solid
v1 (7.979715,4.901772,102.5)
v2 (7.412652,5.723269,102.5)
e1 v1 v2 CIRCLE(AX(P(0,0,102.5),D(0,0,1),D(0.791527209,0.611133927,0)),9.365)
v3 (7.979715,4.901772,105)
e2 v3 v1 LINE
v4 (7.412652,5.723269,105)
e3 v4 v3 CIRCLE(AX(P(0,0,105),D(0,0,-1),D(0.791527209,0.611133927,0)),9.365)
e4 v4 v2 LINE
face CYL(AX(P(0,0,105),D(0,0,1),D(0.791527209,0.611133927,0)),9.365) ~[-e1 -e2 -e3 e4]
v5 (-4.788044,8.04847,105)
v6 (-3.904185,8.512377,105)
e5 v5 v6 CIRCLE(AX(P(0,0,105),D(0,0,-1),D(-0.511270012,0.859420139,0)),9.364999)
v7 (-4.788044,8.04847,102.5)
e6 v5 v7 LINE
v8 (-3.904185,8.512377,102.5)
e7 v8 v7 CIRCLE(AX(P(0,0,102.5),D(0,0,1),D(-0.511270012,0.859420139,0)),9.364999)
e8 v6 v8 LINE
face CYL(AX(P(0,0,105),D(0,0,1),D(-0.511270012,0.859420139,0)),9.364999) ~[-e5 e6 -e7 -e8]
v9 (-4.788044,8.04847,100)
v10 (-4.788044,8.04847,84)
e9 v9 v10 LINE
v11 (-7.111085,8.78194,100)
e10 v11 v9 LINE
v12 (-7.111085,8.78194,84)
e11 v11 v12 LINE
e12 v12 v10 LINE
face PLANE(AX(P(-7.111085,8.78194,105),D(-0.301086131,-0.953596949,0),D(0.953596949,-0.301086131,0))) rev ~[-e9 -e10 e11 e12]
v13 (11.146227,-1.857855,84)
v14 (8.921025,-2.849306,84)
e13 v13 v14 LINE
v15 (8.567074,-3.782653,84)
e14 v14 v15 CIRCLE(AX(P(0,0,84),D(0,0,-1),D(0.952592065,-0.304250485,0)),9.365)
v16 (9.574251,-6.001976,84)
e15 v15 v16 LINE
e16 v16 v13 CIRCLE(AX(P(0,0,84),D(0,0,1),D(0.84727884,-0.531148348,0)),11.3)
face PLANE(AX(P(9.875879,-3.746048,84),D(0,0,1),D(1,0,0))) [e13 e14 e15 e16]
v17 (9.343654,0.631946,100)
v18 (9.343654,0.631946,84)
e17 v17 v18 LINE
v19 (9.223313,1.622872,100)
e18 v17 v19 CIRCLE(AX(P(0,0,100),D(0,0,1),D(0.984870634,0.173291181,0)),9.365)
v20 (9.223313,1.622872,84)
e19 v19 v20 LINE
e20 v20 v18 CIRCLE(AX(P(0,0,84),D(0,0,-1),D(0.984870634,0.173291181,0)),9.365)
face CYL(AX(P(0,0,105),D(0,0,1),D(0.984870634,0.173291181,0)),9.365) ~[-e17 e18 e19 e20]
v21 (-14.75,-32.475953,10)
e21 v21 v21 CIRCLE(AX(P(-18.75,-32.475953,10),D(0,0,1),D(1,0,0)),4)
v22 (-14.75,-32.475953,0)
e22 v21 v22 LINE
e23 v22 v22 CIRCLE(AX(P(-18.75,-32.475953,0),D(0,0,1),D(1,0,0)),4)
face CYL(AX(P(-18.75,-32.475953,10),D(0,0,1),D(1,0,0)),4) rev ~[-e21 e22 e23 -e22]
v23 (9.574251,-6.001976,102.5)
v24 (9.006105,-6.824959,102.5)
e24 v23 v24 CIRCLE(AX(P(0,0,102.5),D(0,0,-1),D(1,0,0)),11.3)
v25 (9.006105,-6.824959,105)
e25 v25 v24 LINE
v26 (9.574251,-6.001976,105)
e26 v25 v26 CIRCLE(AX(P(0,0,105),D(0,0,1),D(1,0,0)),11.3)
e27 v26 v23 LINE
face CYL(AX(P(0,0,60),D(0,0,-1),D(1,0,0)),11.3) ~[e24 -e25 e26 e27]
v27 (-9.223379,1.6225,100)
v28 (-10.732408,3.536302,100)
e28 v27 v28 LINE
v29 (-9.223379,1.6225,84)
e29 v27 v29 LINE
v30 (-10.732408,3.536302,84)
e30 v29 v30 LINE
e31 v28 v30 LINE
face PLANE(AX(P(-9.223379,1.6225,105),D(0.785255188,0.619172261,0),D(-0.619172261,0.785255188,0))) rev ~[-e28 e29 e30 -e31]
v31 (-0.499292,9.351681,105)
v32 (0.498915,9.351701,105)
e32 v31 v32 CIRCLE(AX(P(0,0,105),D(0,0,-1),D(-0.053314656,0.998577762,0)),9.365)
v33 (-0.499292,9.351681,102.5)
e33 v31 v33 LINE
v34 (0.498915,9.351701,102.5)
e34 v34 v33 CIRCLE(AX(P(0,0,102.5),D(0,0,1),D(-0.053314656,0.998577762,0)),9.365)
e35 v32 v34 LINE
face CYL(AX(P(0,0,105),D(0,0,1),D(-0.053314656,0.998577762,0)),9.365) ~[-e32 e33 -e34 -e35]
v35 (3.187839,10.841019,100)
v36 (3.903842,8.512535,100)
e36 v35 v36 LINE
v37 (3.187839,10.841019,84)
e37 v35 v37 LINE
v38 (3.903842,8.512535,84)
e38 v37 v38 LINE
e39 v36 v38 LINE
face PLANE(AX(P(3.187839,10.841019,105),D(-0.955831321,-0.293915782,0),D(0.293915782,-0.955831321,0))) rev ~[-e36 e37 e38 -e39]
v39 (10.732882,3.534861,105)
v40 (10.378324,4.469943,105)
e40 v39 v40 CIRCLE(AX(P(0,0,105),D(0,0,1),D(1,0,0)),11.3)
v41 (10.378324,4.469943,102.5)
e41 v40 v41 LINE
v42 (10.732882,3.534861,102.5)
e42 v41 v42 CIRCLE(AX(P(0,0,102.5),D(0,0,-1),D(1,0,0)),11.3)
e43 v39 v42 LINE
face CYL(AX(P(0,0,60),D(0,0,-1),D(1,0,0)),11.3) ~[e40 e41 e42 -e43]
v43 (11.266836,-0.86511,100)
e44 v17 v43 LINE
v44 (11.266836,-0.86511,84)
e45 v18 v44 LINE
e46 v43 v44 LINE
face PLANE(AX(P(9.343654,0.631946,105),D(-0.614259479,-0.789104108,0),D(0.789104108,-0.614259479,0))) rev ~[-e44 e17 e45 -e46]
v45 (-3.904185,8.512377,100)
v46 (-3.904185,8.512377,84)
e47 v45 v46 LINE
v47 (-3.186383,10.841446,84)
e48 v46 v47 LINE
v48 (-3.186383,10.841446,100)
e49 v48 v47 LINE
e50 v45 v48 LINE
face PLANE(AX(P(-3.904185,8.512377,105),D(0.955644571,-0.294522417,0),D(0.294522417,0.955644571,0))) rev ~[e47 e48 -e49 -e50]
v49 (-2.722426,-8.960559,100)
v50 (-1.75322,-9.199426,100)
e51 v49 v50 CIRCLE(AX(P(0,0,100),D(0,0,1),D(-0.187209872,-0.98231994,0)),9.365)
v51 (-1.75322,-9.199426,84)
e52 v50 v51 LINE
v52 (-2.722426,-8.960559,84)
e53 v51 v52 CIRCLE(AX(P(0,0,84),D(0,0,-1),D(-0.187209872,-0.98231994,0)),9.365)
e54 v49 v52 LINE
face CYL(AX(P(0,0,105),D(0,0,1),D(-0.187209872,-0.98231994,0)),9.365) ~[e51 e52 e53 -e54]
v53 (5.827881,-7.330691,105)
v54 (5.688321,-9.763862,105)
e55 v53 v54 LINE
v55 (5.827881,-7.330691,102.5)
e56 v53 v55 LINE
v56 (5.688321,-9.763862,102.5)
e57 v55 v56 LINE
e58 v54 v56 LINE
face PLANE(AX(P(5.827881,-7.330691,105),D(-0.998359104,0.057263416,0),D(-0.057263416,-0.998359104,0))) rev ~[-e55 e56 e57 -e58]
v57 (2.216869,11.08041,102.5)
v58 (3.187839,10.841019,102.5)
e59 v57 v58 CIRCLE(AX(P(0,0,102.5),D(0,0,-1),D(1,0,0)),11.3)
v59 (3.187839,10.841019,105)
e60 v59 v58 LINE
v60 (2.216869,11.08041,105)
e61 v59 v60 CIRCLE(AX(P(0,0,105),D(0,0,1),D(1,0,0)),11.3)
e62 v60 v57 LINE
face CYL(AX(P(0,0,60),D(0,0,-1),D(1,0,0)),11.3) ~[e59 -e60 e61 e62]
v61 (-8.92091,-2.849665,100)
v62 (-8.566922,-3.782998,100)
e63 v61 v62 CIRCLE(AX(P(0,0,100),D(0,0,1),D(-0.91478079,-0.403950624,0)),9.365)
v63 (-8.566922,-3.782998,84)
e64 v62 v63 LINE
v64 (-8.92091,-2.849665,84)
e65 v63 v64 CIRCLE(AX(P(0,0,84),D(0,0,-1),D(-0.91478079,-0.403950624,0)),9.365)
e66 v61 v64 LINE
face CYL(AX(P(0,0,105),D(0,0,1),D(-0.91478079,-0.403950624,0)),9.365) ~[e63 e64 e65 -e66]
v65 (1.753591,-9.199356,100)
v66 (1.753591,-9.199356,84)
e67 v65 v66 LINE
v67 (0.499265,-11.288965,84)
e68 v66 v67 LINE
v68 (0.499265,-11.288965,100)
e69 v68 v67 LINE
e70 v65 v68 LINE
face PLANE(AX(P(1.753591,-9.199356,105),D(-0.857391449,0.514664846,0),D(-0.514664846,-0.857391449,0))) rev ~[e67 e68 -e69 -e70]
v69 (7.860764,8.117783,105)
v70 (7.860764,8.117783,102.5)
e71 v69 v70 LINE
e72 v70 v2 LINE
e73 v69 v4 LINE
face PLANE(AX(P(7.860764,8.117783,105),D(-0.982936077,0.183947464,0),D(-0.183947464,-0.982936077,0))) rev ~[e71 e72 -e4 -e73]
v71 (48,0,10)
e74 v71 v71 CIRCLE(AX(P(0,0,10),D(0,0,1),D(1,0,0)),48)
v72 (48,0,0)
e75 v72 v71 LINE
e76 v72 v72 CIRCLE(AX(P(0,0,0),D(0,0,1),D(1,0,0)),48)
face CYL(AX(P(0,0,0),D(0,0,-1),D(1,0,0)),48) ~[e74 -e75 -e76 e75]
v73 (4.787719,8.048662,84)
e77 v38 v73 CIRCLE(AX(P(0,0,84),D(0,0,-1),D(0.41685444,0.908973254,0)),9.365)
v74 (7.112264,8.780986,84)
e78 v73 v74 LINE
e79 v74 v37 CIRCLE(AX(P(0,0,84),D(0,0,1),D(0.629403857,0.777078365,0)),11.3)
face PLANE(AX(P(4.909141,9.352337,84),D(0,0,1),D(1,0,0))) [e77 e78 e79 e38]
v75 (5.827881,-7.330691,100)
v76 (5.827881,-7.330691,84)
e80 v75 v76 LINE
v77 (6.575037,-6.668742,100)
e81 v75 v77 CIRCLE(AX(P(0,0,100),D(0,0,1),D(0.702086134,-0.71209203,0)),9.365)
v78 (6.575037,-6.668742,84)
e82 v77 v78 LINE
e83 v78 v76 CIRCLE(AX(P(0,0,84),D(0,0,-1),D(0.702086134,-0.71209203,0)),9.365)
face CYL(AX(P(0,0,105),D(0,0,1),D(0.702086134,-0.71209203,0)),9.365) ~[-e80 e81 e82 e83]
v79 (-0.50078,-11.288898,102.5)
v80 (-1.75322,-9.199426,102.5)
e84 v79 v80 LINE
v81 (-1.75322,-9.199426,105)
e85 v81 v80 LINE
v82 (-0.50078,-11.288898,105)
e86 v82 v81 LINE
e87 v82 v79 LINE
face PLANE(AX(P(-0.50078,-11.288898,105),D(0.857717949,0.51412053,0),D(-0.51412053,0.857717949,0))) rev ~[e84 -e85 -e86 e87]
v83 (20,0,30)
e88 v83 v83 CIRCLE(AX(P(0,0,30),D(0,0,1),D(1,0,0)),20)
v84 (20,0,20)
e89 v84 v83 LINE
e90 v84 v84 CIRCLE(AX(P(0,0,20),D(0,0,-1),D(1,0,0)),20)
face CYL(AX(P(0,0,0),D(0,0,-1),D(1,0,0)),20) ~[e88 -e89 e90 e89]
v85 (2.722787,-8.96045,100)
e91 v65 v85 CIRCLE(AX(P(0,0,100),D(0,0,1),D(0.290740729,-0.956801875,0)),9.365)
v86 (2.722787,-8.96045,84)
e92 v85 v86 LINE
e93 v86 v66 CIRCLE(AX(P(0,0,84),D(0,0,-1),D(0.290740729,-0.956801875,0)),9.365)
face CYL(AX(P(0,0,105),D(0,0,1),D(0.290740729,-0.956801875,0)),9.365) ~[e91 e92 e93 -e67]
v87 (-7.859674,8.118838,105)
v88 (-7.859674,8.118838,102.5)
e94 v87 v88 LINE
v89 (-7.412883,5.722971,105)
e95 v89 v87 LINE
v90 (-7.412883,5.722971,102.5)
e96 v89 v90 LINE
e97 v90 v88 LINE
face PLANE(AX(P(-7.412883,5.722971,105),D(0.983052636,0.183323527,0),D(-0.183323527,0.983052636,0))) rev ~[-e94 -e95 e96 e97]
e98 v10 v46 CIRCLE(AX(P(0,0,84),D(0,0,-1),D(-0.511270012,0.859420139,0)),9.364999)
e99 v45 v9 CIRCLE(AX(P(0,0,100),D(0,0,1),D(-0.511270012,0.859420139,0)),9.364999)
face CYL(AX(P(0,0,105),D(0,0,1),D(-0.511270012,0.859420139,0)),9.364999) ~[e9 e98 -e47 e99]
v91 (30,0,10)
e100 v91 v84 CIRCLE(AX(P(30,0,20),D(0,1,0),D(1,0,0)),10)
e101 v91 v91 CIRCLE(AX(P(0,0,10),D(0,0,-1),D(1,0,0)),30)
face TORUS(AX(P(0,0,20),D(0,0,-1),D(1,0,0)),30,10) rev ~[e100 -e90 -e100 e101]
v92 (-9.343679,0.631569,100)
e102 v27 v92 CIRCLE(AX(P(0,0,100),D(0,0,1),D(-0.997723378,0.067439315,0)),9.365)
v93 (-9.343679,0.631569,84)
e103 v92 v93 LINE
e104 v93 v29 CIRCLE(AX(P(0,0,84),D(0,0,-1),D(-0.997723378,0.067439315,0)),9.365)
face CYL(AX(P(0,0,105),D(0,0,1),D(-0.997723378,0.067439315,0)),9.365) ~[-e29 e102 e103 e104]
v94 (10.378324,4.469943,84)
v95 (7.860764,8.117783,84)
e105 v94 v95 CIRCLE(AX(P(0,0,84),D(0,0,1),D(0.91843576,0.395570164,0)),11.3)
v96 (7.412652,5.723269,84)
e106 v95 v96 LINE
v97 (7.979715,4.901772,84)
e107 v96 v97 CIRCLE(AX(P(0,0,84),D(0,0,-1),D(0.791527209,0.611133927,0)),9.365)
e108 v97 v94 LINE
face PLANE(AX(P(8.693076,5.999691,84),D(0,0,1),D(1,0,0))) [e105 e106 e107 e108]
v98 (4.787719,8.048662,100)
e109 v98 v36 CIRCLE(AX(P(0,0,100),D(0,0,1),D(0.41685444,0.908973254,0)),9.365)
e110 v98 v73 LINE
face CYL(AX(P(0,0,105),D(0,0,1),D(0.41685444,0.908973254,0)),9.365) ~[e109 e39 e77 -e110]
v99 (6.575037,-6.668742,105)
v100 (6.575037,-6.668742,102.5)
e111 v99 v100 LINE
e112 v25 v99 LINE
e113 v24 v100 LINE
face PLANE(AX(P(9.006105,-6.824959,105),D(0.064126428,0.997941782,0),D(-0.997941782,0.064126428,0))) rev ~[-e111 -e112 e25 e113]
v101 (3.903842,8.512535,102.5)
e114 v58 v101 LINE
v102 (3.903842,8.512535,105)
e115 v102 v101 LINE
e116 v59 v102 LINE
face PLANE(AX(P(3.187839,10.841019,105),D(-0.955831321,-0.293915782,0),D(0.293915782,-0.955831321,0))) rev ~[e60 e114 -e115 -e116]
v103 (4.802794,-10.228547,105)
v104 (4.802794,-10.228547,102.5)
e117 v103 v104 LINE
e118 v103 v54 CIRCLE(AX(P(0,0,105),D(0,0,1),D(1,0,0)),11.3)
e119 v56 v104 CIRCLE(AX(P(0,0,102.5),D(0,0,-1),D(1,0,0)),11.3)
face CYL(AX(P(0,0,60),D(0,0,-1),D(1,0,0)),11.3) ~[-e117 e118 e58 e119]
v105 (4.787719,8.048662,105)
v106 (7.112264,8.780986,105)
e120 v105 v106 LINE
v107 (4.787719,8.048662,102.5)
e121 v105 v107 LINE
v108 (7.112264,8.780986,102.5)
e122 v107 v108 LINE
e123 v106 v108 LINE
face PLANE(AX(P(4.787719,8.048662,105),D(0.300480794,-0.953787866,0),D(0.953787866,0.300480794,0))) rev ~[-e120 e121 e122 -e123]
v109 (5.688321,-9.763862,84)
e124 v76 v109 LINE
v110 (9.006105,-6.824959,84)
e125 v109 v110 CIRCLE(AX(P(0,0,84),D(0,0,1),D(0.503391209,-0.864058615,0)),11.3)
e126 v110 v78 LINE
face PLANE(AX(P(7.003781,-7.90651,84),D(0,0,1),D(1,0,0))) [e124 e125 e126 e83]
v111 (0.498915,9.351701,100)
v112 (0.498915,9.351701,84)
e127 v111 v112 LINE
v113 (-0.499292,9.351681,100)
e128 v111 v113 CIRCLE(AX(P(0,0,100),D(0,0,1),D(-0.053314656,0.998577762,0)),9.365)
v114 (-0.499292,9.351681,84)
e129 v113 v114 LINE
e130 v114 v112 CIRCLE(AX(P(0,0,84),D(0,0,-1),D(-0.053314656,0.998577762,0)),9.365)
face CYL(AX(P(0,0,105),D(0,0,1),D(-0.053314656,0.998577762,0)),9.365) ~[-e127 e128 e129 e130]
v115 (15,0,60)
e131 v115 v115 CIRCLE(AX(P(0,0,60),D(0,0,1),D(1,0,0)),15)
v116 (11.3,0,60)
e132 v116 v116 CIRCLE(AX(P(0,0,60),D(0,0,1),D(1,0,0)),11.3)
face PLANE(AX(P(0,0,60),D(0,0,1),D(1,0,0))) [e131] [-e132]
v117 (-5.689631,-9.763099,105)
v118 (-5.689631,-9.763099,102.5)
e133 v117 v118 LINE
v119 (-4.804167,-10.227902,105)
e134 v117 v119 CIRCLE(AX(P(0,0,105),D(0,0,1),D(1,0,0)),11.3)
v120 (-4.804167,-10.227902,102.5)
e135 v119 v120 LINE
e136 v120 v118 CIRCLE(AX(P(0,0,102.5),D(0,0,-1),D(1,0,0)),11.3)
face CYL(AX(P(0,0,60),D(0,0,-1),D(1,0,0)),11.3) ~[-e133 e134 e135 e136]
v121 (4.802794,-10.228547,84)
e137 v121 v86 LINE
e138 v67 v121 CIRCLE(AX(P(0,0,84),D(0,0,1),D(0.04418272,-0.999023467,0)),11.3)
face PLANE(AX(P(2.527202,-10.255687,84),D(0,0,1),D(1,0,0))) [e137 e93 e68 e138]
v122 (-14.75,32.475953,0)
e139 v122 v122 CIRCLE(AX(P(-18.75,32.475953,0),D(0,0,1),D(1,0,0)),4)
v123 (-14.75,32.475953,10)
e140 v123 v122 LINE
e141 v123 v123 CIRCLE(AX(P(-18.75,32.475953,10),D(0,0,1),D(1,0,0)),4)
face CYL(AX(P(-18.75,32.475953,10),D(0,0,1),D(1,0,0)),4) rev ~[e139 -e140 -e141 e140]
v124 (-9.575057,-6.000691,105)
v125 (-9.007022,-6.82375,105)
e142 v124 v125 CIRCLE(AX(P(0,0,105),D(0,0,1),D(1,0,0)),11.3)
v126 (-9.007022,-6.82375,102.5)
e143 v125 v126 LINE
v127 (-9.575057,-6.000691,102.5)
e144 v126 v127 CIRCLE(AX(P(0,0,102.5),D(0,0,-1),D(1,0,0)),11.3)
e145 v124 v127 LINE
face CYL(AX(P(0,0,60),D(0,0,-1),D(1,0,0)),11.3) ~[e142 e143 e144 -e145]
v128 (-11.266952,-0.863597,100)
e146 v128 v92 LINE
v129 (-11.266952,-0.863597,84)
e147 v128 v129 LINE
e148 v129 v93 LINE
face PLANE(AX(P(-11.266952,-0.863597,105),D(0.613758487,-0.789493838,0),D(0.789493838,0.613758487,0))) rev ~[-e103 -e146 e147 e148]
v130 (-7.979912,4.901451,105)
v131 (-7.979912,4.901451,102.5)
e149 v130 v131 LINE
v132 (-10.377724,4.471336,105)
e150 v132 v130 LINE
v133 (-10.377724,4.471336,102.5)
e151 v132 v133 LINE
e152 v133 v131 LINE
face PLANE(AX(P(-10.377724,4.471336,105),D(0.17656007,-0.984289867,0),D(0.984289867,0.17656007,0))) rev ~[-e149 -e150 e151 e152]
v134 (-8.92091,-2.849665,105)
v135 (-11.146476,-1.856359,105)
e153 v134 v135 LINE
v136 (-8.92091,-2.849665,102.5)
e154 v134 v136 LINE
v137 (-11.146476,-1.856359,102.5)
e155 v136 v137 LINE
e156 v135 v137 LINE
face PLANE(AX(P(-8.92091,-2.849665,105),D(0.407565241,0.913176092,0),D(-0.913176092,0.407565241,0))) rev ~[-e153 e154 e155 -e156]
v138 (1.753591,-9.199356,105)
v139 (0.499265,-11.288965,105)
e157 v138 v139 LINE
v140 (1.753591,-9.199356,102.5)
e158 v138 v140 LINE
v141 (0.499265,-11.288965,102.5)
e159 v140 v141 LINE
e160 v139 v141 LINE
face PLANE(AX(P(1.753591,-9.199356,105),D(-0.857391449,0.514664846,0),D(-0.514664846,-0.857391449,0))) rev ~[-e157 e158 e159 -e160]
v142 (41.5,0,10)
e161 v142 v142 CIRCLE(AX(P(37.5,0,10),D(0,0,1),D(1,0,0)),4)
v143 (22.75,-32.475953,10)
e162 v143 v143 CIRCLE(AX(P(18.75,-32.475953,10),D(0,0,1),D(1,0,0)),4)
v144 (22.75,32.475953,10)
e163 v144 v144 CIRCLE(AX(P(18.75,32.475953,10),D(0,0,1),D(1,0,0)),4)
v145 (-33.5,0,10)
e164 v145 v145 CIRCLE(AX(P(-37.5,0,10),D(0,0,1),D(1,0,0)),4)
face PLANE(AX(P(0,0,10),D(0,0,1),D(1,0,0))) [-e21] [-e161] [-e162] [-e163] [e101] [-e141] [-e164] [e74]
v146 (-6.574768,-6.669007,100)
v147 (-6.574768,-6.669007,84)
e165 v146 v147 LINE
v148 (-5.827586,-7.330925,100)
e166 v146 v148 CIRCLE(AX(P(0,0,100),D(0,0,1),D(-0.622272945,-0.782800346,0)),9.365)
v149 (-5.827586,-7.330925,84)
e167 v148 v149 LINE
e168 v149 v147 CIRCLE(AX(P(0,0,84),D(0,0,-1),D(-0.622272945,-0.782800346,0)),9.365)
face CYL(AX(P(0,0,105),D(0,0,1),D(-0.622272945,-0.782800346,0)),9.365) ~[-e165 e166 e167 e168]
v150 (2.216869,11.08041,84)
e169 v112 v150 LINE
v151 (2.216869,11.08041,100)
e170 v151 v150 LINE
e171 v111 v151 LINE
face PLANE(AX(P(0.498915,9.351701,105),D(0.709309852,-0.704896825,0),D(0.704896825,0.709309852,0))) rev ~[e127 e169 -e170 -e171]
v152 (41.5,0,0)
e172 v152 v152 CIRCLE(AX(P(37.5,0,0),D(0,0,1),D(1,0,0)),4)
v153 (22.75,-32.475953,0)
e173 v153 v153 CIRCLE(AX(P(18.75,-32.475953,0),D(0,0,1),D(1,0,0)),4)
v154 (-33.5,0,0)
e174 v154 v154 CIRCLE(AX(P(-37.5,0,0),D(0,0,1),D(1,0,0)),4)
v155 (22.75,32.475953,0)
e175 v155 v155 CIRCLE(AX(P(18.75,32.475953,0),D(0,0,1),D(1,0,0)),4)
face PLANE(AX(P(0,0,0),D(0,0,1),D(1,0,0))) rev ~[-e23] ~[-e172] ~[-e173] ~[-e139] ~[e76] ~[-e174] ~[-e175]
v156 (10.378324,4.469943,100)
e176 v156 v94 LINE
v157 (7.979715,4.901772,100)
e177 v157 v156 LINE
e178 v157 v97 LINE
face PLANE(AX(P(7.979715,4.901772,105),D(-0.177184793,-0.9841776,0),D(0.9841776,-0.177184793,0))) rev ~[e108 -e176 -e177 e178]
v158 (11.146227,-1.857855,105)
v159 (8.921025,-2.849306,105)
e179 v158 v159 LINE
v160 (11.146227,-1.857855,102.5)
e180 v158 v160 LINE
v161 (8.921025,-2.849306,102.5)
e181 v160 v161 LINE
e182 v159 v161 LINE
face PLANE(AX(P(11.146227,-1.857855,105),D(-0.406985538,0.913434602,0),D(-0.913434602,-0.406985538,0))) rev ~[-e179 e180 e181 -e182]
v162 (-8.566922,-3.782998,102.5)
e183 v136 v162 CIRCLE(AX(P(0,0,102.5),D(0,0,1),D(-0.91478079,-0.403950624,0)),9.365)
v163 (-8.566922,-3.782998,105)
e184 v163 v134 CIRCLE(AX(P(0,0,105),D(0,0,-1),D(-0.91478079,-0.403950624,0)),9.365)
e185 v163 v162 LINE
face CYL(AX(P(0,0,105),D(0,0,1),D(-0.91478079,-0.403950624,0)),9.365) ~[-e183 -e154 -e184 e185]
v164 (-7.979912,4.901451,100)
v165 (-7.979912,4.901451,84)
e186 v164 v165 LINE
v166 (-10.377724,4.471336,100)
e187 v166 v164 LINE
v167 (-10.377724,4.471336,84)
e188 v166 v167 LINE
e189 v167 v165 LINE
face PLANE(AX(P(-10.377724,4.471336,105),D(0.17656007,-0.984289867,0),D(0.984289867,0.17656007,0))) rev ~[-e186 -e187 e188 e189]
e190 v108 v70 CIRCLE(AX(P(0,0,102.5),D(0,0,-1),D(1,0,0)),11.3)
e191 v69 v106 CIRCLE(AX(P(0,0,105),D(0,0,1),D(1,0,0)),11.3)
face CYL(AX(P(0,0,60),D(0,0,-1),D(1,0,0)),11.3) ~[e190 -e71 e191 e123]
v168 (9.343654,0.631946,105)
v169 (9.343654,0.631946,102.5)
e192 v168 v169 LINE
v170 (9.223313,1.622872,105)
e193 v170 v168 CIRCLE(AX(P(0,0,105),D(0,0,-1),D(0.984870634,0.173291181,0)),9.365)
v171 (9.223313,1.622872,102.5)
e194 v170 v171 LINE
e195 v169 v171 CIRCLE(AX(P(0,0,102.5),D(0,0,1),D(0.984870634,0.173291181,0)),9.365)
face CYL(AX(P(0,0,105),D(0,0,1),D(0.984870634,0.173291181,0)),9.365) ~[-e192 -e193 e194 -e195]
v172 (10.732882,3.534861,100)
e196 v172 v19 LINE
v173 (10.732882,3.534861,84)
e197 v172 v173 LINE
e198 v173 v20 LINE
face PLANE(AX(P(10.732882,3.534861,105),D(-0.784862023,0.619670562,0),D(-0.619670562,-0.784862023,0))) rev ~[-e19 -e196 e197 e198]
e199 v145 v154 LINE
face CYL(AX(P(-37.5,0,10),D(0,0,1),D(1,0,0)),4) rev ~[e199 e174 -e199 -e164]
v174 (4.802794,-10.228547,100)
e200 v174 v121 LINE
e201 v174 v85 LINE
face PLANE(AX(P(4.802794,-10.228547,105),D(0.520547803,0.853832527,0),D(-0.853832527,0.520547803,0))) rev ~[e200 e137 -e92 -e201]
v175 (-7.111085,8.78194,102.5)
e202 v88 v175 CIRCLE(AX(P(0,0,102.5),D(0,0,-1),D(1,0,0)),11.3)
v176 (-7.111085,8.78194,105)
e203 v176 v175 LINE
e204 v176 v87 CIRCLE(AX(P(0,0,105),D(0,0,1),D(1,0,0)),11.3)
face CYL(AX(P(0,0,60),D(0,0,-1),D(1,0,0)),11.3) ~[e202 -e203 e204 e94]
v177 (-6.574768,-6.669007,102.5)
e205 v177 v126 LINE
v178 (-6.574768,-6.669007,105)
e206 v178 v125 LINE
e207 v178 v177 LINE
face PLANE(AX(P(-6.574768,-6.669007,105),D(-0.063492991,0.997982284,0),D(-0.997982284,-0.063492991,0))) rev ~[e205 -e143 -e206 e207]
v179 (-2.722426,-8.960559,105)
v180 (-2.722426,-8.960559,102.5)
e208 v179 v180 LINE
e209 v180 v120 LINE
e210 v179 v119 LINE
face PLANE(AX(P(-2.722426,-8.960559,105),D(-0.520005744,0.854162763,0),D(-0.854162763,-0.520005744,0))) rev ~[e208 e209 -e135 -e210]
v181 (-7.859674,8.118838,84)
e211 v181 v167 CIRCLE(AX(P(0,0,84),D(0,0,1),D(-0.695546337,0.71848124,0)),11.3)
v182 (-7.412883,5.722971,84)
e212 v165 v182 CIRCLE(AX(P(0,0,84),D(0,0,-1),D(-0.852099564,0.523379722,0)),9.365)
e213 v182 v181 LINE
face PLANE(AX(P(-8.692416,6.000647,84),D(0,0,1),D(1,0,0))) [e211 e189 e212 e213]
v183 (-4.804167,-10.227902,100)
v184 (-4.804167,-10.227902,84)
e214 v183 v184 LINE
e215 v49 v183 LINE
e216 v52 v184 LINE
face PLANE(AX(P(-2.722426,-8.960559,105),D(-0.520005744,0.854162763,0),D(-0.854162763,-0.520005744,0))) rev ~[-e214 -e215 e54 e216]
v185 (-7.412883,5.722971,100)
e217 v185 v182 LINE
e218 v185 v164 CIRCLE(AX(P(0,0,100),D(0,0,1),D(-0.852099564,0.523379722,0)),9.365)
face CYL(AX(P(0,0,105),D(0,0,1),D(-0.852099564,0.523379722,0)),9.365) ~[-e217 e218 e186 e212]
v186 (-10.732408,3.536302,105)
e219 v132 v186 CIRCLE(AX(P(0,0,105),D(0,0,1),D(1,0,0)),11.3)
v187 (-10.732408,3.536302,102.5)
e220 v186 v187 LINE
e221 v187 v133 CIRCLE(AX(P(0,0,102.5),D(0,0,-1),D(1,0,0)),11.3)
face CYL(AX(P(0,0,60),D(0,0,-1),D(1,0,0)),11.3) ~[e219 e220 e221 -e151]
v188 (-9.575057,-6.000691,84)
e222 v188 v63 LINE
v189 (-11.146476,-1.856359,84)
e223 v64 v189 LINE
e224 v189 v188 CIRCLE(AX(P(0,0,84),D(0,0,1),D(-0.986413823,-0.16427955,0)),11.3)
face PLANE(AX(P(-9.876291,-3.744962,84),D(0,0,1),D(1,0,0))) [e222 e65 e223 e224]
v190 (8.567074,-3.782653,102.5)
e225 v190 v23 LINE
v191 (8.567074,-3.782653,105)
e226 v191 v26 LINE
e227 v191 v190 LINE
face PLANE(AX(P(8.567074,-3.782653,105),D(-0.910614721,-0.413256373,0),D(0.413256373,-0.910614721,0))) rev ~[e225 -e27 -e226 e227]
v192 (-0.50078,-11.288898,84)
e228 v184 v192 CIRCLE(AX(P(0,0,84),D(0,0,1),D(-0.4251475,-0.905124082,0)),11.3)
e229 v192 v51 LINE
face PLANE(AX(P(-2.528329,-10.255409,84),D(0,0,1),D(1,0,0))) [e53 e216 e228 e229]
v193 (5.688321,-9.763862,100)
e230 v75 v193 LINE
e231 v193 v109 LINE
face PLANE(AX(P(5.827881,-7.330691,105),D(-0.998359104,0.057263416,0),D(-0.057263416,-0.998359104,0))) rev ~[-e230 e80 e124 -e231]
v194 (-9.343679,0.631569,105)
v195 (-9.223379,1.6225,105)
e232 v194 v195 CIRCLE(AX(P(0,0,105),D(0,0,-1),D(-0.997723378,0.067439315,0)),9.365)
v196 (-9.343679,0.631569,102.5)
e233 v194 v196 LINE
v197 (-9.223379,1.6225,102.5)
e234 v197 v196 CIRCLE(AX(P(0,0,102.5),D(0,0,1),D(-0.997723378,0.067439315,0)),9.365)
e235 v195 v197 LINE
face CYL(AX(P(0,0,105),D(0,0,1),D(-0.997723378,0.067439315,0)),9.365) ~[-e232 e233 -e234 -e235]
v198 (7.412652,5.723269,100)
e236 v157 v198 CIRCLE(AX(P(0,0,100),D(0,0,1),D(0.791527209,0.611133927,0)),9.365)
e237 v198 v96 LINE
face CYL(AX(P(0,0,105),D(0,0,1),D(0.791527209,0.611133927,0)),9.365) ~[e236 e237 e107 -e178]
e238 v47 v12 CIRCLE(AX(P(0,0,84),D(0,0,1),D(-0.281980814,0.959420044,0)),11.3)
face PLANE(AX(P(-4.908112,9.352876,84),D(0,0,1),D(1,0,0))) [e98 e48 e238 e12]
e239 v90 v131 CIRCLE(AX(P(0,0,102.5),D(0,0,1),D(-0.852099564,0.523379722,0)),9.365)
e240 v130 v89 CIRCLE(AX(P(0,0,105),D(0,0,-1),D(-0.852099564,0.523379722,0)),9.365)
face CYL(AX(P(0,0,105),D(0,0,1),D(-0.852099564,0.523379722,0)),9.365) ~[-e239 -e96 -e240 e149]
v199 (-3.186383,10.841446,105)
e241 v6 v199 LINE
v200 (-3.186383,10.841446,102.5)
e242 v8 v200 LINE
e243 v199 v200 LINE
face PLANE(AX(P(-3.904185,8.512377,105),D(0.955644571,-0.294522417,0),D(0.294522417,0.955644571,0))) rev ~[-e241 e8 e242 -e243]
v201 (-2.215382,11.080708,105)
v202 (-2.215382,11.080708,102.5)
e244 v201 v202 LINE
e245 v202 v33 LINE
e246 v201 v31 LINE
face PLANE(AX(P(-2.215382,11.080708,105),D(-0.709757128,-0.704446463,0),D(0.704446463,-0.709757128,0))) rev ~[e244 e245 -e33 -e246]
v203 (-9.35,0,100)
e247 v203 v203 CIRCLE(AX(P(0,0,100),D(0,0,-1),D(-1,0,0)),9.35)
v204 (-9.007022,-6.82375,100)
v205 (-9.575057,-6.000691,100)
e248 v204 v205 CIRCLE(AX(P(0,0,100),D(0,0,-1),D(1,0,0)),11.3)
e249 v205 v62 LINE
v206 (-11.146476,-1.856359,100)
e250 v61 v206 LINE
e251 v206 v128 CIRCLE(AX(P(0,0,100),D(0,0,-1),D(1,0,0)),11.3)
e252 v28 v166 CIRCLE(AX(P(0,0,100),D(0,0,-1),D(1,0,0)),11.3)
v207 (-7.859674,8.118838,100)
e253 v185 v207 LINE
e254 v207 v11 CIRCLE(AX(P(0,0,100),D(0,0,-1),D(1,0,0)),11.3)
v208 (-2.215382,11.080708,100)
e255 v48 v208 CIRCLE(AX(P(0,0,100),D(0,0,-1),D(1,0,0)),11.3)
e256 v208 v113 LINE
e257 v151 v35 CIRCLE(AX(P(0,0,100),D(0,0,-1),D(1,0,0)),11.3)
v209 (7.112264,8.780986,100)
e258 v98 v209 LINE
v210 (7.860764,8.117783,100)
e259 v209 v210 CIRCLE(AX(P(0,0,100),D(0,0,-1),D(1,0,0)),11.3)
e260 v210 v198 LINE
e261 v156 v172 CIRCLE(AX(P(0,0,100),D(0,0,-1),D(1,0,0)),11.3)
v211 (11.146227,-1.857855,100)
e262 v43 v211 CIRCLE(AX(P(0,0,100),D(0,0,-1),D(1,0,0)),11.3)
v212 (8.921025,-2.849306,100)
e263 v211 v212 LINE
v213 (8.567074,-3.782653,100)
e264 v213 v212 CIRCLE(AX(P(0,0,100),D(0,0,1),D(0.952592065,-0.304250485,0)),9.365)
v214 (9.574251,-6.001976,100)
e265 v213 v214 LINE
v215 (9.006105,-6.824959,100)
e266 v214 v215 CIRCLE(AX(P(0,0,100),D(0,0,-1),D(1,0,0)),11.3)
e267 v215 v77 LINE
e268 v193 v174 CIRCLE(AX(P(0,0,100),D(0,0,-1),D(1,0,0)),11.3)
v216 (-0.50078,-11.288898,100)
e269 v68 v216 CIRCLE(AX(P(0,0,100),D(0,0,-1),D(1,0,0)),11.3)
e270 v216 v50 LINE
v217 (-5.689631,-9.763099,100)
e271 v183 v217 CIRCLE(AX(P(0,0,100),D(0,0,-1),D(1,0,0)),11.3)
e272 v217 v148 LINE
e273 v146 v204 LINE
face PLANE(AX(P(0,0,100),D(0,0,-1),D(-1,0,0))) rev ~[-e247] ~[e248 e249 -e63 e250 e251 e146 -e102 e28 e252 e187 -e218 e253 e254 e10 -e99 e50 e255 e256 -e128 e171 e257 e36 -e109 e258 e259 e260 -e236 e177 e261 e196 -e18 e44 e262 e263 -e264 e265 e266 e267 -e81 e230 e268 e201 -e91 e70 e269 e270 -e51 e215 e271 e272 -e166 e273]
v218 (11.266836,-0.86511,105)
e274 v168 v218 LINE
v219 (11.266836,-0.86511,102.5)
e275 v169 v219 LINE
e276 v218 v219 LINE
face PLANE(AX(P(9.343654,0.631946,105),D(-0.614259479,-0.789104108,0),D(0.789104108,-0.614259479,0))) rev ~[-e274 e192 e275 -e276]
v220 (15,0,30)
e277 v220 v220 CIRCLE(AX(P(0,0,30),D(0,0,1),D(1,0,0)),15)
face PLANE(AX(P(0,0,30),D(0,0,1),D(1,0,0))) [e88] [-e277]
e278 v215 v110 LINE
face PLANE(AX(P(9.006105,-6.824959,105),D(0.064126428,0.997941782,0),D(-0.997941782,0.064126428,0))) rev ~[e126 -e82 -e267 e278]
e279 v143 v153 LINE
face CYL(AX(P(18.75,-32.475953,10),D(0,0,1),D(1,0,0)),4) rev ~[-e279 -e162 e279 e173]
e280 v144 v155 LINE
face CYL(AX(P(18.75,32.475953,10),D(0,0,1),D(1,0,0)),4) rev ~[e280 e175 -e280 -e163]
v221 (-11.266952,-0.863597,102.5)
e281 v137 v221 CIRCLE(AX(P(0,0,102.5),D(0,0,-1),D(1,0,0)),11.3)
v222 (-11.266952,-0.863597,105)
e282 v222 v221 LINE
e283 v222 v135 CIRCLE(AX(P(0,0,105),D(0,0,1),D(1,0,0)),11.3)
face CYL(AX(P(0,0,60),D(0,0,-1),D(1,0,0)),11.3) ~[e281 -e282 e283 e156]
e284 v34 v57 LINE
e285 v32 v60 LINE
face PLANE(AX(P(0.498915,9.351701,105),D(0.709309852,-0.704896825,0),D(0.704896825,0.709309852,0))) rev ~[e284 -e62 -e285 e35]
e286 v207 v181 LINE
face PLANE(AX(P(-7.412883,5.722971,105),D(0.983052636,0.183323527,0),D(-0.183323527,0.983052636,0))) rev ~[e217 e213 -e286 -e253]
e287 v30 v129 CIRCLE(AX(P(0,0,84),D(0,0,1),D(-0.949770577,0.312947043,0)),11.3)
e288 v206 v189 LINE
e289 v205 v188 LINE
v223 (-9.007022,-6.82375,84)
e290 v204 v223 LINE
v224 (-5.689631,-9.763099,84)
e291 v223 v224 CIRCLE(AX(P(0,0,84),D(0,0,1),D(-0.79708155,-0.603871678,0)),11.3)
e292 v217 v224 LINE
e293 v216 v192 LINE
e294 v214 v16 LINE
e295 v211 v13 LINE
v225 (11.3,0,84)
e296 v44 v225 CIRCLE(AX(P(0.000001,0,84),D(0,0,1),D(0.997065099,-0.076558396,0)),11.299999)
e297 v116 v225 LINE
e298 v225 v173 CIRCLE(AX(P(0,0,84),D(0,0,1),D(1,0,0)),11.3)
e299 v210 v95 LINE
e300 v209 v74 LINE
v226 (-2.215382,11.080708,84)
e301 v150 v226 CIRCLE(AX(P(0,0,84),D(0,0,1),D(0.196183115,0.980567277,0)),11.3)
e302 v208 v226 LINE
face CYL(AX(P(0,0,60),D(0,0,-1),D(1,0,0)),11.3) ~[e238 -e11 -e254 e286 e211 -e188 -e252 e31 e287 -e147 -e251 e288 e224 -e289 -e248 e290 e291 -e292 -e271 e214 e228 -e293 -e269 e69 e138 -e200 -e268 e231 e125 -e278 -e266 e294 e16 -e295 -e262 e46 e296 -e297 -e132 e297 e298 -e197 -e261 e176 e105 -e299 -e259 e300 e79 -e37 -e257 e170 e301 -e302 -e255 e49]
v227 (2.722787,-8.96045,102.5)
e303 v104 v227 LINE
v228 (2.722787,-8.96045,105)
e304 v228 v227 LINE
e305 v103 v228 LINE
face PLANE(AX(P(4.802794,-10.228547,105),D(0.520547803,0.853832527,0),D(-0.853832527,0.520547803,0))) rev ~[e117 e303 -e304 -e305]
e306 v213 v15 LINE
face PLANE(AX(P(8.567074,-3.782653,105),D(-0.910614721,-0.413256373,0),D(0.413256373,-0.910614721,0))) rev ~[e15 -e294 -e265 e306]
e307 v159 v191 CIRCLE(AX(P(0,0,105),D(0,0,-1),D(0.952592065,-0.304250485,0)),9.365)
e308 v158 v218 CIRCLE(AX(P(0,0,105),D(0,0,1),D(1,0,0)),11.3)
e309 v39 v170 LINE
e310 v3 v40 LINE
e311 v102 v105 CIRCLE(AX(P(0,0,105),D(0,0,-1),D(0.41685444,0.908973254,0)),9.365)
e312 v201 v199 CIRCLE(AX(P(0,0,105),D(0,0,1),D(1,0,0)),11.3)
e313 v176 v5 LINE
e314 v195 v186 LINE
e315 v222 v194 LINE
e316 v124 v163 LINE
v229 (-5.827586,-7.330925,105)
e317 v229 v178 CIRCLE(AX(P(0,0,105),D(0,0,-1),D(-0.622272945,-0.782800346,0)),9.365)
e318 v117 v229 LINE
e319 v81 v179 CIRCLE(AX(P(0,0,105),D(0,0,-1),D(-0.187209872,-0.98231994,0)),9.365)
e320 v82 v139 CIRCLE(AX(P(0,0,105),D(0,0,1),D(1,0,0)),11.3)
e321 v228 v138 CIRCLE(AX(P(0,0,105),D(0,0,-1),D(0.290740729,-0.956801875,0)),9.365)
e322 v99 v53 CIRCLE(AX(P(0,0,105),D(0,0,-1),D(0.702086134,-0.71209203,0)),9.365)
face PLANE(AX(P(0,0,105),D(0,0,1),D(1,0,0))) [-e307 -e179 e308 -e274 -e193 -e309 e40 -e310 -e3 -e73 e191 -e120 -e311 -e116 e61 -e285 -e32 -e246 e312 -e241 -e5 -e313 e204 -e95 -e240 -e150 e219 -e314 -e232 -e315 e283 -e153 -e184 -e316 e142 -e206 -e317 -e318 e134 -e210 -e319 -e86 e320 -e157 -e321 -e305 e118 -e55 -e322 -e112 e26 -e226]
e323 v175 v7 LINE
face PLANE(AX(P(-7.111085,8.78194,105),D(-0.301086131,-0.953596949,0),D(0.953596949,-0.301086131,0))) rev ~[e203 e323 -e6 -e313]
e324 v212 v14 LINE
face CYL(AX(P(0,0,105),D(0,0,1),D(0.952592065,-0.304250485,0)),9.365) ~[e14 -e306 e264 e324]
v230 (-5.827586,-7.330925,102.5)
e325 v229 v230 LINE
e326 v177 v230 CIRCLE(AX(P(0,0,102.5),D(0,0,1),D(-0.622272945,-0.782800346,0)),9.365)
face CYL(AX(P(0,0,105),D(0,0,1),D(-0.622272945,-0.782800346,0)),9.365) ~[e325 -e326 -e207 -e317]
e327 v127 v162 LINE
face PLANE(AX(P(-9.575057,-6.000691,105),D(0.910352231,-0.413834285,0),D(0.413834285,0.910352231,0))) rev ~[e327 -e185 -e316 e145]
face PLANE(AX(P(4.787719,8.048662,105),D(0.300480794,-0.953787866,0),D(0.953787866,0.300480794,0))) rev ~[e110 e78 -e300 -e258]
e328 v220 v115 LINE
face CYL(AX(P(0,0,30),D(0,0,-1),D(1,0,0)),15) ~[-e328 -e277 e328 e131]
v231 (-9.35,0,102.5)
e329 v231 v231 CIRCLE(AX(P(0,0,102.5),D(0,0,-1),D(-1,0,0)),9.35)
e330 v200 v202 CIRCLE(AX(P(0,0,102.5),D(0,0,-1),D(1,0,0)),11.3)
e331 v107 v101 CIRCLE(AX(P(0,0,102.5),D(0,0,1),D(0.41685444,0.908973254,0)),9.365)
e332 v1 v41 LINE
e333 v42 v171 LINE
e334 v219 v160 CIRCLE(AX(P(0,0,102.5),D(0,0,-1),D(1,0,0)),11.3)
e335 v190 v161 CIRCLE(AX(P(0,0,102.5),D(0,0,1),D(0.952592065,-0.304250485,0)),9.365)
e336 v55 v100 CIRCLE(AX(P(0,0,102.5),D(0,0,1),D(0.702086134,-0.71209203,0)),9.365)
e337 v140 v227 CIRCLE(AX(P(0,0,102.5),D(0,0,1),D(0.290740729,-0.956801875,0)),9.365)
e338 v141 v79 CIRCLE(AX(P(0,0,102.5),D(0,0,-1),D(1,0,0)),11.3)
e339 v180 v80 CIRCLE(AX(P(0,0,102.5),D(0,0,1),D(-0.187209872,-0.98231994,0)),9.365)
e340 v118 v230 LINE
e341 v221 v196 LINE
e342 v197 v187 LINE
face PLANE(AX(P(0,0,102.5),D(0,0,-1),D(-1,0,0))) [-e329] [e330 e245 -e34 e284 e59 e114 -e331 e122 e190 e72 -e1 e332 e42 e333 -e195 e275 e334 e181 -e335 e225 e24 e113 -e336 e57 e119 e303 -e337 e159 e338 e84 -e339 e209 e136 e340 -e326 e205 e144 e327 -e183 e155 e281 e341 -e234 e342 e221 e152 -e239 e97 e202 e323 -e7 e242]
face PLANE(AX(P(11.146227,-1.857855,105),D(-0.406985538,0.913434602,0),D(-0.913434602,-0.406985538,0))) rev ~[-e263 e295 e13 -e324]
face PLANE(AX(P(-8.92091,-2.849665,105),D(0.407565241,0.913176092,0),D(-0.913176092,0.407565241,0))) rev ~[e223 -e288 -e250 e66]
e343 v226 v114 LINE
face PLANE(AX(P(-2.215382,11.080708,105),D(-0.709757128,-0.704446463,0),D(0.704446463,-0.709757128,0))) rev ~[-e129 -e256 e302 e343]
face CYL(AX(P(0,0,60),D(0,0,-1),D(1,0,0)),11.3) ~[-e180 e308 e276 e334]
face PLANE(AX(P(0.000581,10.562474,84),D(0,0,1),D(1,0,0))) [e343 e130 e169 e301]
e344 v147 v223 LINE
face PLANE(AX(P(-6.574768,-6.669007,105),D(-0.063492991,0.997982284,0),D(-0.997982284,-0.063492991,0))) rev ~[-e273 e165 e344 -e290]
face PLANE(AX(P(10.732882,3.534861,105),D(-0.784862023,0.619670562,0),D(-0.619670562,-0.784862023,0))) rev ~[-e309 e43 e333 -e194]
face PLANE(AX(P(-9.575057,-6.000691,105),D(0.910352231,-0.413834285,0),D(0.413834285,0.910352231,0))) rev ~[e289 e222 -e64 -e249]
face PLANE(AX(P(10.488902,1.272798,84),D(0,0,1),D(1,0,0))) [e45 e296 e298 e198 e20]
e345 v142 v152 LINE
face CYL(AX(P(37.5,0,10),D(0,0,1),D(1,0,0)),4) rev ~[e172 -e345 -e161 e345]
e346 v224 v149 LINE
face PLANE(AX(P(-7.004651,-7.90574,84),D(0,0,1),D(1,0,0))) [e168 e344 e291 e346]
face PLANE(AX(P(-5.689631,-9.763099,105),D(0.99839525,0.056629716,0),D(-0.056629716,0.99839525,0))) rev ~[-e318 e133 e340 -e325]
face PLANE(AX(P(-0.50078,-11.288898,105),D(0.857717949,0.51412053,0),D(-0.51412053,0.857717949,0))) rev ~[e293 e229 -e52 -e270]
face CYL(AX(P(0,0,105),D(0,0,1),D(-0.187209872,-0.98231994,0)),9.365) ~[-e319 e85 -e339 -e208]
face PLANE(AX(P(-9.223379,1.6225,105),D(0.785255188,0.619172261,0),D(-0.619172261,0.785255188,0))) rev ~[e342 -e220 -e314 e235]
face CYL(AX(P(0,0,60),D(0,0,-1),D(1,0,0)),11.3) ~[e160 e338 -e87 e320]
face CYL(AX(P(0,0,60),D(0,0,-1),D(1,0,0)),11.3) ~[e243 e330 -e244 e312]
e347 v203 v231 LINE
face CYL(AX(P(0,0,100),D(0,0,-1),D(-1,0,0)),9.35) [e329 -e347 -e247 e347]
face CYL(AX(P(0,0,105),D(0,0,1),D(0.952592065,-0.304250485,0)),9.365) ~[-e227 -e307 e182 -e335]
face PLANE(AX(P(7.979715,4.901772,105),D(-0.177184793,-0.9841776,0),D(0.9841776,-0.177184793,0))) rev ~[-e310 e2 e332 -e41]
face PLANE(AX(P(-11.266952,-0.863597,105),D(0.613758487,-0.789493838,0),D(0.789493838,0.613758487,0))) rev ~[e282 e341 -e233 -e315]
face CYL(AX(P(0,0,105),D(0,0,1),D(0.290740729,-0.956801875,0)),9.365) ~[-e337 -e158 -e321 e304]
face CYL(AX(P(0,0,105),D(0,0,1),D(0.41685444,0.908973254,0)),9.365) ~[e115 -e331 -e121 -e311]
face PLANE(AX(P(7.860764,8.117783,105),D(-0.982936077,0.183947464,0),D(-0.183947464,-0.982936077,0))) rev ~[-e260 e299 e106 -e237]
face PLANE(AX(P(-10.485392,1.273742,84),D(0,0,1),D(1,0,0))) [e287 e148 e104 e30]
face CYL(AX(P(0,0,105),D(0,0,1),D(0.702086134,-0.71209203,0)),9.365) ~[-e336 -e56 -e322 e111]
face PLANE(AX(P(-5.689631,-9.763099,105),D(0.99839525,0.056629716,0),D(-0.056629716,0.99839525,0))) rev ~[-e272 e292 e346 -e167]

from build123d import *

# Parameters (mm, degrees)
SKETCH1_R           = 48
BOSS_EXTRUDE2_DEPTH = 10
SKETCH5_R           = 20
BOSS_EXTRUDE3_DEPTH = 30
SKETCH8_R           = 15
BOSS_EXTRUDE4_DEPTH = 30
SKETCH9_R           = 11.3
BOSS_EXTRUDE5_DEPTH = 45
SKETCH10_R          = 4
CUT_EXTRUDE1_DEPTH  = 45
FILLET1_R           = 10
CUT_EXTRUDE12_DEPTH = 21
SKETCH17_R          = 12.910346837
SKETCH17_R_2        = 9.35
CUT_EXTRUDE13_DEPTH = 2.5


with BuildPart() as part:
    # Sketch1 → Boss-Extrude2 (new body)
    with BuildSketch(Plane.XY):
        Circle(SKETCH1_R)
    extrude(amount=BOSS_EXTRUDE2_DEPTH)

    # Sketch5 → Boss-Extrude3 (add)
    with BuildSketch(Plane.XY):
        Circle(SKETCH5_R)
    extrude(amount=BOSS_EXTRUDE3_DEPTH)

    # Sketch8 → Boss-Extrude4 (add)
    with BuildSketch(Plane.XY.offset(30)):
        Circle(SKETCH8_R)
    extrude(amount=BOSS_EXTRUDE4_DEPTH)

    # Sketch9 → Boss-Extrude5 (add)
    with BuildSketch(Plane.XY.offset(60)):
        Circle(SKETCH9_R)
    extrude(amount=BOSS_EXTRUDE5_DEPTH)

    # Sketch10 → Cut-Extrude1 (cut)
    with BuildSketch(Plane.XY.offset(10)):
        with Locations((-37.5, 0)):
            Circle(SKETCH10_R)
        with Locations((-18.75, 32.475952642)):
            Circle(SKETCH10_R)
        with Locations((18.75, 32.475952642)):
            Circle(SKETCH10_R)
        with Locations((37.5, 0)):
            Circle(SKETCH10_R)
        with Locations((18.75, -32.475952642)):
            Circle(SKETCH10_R)
        with Locations((-18.75, -32.475952642)):
            Circle(SKETCH10_R)
    extrude(amount=-CUT_EXTRUDE1_DEPTH, mode=Mode.SUBTRACT)

    # Fillet1
    fillet1_edges = [part.edges().sort_by_distance(p)[0] for p in [
        (-20, 0, 10),
    ]]
    fillet(fillet1_edges, radius=FILLET1_R)

    # Sketch11 → Cut-Extrude12 (cut)
    with BuildSketch(Plane.XY.offset(105)):
        with BuildLine():
            Line((-10.377723879, 4.471336164), (-7.979912421, 4.901451086))
            ThreePointArc((-7.979912421, 4.901451086), (-7.707351037, 5.31977114), (-7.41288283, 5.722970658))
            Line((-7.41288283, 5.722970658), (-7.859673611, 8.118838016))
            ThreePointArc((-7.859673611, 8.118838016), (-9.29928676, 6.419755895), (-10.377723879, 4.471336164))
        make_face()
        with BuildLine():
            Line((-7.111084616, 8.781940309), (-4.788043642, 8.048469611))
            ThreePointArc((-4.788043642, 8.048469611), (-4.352299499, 8.292208034), (-3.904184691, 8.512377276))
            Line((-3.904184691, 8.512377276), (-3.186383203, 10.841446494))
            ThreePointArc((-3.186383203, 10.841446494), (-5.250700172, 10.006005582), (-7.111084616, 8.781940309))
        make_face()
        with BuildLine():
            Line((-2.215381565, 11.080707763), (-0.499291766, 9.351680744))
            ThreePointArc((-0.499291766, 9.351680744), (-0.000188596, 9.364999998), (0.498915109, 9.351700846))
            Line((0.498915109, 9.351700846), (2.216869197, 11.080410234))
            ThreePointArc((2.216869197, 11.080410234), (0.000758547, 11.299999975), (-2.215381565, 11.080707763))
        make_face()
        with BuildLine():
            ThreePointArc((3.903841837, 8.512534518), (4.351965512, 8.292383324), (4.787719471, 8.048662452))
            Line((4.787719471, 8.048662452), (7.112263581, 8.780985523))
            ThreePointArc((7.112263581, 8.780985523), (5.252043492, 10.005300553), (3.187838704, 10.841018605))
            Line((3.187838704, 10.841018605), (3.903841837, 8.512534518))
        make_face()
        with BuildLine():
            ThreePointArc((7.412652321, 5.723269221), (7.707136768, 5.320081564), (7.979715, 4.901772487))
            Line((7.979715, 4.901772487), (10.37832409, 4.469942851))
            ThreePointArc((10.37832409, 4.469942851), (9.300148567, 6.418507352), (7.860763544, 8.117782733))
            Line((7.860763544, 8.117782733), (7.412652321, 5.723269221))
        make_face()
        with BuildLine():
            ThreePointArc((9.22331349, 1.622871918), (9.296695871, 1.129013232), (9.343653989, 0.631945518))
            Line((9.343653989, 0.631945518), (11.266835622, -0.865109859))
            ThreePointArc((11.266835622, -0.865109859), (11.291705862, -0.432872656), (11.3, 0))
            ThreePointArc((11.3, 0), (11.157319766, 1.790032301), (10.732882188, 3.534860667))
            Line((10.732882188, 3.534860667), (9.22331349, 1.622871918))
        make_face()
        with BuildLine():
            ThreePointArc((8.921024692, -2.849305783), (8.756493988, -3.320698426), (8.567074452, -3.782652553))
            Line((8.567074452, -3.782652553), (9.574250893, -6.001976327))
            ThreePointArc((9.574250893, -6.001976327), (10.565414534, -4.007744468), (11.146226868, -1.857855378))
            Line((11.146226868, -1.857855378), (8.921024692, -2.849305783))
        make_face()
        with BuildLine():
            ThreePointArc((6.575036647, -6.668741867), (6.210284859, -7.009678093), (5.827881402, -7.33069051))
            Line((5.827881402, -7.33069051), (5.688320667, -9.76386235))
            ThreePointArc((5.688320667, -9.76386235), (7.492718241, -8.458674445), (9.006105299, -6.824959145))
            Line((9.006105299, -6.824959145), (6.575036647, -6.668741867))
        make_face()
        with BuildLine():
            ThreePointArc((2.722786944, -8.960449557), (2.241374312, -9.092824984), (1.753590957, -9.199355616))
            Line((1.753590957, -9.199355616), (0.499264728, -11.288965175))
            ThreePointArc((0.499264728, -11.288965175), (2.703530495, -10.971824044), (4.802793542, -10.228547023))
            Line((4.802793542, -10.228547023), (2.722786944, -8.960449557))
        make_face()
        with BuildLine():
            ThreePointArc((-4.804166743, -10.227902126), (-2.705003505, -10.97146098), (-0.500780336, -11.288898044))
            Line((-0.500780336, -11.288898044), (-1.753220435, -9.199426238))
            ThreePointArc((-1.753220435, -9.199426238), (-2.24100808, -9.092915252), (-2.722426043, -8.960559215))
            Line((-2.722426043, -8.960559215), (-4.804166743, -10.227902126))
        make_face()
        with BuildLine():
            Line((-5.689631474, -9.76309857), (-5.827586141, -7.330925233))
            ThreePointArc((-5.827586141, -7.330925233), (-6.210002527, -7.009928218), (-6.574768046, -6.669006683))
            Line((-6.574768046, -6.669006683), (-9.007021511, -6.823749959))
            ThreePointArc((-9.007021511, -6.823749959), (-7.493853802, -8.457668426), (-5.689631474, -9.76309857))
        make_face()
        with BuildLine():
            Line((-9.575056609, -6.000690871), (-8.566922092, -3.782997605))
            ThreePointArc((-8.566922092, -3.782997605), (-8.756360234, -3.321051107), (-8.920909924, -2.849665091))
            Line((-8.920909924, -2.849665091), (-11.146476196, -1.856358912))
            ThreePointArc((-11.146476196, -1.856358912), (-10.565952503, -4.006325961), (-9.575056609, -6.000690871))
        make_face()
        with BuildLine():
            Line((-11.266951667, -0.86359721), (-9.343679434, 0.631569185))
            ThreePointArc((-9.343679434, 0.631569185), (-9.296741337, 1.128638789), (-9.223378847, 1.622500431))
            Line((-9.223378847, 1.622500431), (-10.732407515, 3.53630159))
            ThreePointArc((-10.732407515, 3.53630159), (-11.217518819, 1.3628175), (-11.266951667, -0.86359721))
        make_face()
    extrude(amount=-CUT_EXTRUDE12_DEPTH, mode=Mode.SUBTRACT)

    # Sketch17 → Cut-Extrude13 (cut)
    with BuildSketch(Plane(origin=(0, 0, 100), x_dir=(-1, 0, 0), z_dir=(0, 0, -1))):
        Circle(SKETCH17_R)
        Circle(SKETCH17_R_2, mode=Mode.SUBTRACT)
    extrude(amount=-CUT_EXTRUDE13_DEPTH, mode=Mode.SUBTRACT)


solid = part.part
